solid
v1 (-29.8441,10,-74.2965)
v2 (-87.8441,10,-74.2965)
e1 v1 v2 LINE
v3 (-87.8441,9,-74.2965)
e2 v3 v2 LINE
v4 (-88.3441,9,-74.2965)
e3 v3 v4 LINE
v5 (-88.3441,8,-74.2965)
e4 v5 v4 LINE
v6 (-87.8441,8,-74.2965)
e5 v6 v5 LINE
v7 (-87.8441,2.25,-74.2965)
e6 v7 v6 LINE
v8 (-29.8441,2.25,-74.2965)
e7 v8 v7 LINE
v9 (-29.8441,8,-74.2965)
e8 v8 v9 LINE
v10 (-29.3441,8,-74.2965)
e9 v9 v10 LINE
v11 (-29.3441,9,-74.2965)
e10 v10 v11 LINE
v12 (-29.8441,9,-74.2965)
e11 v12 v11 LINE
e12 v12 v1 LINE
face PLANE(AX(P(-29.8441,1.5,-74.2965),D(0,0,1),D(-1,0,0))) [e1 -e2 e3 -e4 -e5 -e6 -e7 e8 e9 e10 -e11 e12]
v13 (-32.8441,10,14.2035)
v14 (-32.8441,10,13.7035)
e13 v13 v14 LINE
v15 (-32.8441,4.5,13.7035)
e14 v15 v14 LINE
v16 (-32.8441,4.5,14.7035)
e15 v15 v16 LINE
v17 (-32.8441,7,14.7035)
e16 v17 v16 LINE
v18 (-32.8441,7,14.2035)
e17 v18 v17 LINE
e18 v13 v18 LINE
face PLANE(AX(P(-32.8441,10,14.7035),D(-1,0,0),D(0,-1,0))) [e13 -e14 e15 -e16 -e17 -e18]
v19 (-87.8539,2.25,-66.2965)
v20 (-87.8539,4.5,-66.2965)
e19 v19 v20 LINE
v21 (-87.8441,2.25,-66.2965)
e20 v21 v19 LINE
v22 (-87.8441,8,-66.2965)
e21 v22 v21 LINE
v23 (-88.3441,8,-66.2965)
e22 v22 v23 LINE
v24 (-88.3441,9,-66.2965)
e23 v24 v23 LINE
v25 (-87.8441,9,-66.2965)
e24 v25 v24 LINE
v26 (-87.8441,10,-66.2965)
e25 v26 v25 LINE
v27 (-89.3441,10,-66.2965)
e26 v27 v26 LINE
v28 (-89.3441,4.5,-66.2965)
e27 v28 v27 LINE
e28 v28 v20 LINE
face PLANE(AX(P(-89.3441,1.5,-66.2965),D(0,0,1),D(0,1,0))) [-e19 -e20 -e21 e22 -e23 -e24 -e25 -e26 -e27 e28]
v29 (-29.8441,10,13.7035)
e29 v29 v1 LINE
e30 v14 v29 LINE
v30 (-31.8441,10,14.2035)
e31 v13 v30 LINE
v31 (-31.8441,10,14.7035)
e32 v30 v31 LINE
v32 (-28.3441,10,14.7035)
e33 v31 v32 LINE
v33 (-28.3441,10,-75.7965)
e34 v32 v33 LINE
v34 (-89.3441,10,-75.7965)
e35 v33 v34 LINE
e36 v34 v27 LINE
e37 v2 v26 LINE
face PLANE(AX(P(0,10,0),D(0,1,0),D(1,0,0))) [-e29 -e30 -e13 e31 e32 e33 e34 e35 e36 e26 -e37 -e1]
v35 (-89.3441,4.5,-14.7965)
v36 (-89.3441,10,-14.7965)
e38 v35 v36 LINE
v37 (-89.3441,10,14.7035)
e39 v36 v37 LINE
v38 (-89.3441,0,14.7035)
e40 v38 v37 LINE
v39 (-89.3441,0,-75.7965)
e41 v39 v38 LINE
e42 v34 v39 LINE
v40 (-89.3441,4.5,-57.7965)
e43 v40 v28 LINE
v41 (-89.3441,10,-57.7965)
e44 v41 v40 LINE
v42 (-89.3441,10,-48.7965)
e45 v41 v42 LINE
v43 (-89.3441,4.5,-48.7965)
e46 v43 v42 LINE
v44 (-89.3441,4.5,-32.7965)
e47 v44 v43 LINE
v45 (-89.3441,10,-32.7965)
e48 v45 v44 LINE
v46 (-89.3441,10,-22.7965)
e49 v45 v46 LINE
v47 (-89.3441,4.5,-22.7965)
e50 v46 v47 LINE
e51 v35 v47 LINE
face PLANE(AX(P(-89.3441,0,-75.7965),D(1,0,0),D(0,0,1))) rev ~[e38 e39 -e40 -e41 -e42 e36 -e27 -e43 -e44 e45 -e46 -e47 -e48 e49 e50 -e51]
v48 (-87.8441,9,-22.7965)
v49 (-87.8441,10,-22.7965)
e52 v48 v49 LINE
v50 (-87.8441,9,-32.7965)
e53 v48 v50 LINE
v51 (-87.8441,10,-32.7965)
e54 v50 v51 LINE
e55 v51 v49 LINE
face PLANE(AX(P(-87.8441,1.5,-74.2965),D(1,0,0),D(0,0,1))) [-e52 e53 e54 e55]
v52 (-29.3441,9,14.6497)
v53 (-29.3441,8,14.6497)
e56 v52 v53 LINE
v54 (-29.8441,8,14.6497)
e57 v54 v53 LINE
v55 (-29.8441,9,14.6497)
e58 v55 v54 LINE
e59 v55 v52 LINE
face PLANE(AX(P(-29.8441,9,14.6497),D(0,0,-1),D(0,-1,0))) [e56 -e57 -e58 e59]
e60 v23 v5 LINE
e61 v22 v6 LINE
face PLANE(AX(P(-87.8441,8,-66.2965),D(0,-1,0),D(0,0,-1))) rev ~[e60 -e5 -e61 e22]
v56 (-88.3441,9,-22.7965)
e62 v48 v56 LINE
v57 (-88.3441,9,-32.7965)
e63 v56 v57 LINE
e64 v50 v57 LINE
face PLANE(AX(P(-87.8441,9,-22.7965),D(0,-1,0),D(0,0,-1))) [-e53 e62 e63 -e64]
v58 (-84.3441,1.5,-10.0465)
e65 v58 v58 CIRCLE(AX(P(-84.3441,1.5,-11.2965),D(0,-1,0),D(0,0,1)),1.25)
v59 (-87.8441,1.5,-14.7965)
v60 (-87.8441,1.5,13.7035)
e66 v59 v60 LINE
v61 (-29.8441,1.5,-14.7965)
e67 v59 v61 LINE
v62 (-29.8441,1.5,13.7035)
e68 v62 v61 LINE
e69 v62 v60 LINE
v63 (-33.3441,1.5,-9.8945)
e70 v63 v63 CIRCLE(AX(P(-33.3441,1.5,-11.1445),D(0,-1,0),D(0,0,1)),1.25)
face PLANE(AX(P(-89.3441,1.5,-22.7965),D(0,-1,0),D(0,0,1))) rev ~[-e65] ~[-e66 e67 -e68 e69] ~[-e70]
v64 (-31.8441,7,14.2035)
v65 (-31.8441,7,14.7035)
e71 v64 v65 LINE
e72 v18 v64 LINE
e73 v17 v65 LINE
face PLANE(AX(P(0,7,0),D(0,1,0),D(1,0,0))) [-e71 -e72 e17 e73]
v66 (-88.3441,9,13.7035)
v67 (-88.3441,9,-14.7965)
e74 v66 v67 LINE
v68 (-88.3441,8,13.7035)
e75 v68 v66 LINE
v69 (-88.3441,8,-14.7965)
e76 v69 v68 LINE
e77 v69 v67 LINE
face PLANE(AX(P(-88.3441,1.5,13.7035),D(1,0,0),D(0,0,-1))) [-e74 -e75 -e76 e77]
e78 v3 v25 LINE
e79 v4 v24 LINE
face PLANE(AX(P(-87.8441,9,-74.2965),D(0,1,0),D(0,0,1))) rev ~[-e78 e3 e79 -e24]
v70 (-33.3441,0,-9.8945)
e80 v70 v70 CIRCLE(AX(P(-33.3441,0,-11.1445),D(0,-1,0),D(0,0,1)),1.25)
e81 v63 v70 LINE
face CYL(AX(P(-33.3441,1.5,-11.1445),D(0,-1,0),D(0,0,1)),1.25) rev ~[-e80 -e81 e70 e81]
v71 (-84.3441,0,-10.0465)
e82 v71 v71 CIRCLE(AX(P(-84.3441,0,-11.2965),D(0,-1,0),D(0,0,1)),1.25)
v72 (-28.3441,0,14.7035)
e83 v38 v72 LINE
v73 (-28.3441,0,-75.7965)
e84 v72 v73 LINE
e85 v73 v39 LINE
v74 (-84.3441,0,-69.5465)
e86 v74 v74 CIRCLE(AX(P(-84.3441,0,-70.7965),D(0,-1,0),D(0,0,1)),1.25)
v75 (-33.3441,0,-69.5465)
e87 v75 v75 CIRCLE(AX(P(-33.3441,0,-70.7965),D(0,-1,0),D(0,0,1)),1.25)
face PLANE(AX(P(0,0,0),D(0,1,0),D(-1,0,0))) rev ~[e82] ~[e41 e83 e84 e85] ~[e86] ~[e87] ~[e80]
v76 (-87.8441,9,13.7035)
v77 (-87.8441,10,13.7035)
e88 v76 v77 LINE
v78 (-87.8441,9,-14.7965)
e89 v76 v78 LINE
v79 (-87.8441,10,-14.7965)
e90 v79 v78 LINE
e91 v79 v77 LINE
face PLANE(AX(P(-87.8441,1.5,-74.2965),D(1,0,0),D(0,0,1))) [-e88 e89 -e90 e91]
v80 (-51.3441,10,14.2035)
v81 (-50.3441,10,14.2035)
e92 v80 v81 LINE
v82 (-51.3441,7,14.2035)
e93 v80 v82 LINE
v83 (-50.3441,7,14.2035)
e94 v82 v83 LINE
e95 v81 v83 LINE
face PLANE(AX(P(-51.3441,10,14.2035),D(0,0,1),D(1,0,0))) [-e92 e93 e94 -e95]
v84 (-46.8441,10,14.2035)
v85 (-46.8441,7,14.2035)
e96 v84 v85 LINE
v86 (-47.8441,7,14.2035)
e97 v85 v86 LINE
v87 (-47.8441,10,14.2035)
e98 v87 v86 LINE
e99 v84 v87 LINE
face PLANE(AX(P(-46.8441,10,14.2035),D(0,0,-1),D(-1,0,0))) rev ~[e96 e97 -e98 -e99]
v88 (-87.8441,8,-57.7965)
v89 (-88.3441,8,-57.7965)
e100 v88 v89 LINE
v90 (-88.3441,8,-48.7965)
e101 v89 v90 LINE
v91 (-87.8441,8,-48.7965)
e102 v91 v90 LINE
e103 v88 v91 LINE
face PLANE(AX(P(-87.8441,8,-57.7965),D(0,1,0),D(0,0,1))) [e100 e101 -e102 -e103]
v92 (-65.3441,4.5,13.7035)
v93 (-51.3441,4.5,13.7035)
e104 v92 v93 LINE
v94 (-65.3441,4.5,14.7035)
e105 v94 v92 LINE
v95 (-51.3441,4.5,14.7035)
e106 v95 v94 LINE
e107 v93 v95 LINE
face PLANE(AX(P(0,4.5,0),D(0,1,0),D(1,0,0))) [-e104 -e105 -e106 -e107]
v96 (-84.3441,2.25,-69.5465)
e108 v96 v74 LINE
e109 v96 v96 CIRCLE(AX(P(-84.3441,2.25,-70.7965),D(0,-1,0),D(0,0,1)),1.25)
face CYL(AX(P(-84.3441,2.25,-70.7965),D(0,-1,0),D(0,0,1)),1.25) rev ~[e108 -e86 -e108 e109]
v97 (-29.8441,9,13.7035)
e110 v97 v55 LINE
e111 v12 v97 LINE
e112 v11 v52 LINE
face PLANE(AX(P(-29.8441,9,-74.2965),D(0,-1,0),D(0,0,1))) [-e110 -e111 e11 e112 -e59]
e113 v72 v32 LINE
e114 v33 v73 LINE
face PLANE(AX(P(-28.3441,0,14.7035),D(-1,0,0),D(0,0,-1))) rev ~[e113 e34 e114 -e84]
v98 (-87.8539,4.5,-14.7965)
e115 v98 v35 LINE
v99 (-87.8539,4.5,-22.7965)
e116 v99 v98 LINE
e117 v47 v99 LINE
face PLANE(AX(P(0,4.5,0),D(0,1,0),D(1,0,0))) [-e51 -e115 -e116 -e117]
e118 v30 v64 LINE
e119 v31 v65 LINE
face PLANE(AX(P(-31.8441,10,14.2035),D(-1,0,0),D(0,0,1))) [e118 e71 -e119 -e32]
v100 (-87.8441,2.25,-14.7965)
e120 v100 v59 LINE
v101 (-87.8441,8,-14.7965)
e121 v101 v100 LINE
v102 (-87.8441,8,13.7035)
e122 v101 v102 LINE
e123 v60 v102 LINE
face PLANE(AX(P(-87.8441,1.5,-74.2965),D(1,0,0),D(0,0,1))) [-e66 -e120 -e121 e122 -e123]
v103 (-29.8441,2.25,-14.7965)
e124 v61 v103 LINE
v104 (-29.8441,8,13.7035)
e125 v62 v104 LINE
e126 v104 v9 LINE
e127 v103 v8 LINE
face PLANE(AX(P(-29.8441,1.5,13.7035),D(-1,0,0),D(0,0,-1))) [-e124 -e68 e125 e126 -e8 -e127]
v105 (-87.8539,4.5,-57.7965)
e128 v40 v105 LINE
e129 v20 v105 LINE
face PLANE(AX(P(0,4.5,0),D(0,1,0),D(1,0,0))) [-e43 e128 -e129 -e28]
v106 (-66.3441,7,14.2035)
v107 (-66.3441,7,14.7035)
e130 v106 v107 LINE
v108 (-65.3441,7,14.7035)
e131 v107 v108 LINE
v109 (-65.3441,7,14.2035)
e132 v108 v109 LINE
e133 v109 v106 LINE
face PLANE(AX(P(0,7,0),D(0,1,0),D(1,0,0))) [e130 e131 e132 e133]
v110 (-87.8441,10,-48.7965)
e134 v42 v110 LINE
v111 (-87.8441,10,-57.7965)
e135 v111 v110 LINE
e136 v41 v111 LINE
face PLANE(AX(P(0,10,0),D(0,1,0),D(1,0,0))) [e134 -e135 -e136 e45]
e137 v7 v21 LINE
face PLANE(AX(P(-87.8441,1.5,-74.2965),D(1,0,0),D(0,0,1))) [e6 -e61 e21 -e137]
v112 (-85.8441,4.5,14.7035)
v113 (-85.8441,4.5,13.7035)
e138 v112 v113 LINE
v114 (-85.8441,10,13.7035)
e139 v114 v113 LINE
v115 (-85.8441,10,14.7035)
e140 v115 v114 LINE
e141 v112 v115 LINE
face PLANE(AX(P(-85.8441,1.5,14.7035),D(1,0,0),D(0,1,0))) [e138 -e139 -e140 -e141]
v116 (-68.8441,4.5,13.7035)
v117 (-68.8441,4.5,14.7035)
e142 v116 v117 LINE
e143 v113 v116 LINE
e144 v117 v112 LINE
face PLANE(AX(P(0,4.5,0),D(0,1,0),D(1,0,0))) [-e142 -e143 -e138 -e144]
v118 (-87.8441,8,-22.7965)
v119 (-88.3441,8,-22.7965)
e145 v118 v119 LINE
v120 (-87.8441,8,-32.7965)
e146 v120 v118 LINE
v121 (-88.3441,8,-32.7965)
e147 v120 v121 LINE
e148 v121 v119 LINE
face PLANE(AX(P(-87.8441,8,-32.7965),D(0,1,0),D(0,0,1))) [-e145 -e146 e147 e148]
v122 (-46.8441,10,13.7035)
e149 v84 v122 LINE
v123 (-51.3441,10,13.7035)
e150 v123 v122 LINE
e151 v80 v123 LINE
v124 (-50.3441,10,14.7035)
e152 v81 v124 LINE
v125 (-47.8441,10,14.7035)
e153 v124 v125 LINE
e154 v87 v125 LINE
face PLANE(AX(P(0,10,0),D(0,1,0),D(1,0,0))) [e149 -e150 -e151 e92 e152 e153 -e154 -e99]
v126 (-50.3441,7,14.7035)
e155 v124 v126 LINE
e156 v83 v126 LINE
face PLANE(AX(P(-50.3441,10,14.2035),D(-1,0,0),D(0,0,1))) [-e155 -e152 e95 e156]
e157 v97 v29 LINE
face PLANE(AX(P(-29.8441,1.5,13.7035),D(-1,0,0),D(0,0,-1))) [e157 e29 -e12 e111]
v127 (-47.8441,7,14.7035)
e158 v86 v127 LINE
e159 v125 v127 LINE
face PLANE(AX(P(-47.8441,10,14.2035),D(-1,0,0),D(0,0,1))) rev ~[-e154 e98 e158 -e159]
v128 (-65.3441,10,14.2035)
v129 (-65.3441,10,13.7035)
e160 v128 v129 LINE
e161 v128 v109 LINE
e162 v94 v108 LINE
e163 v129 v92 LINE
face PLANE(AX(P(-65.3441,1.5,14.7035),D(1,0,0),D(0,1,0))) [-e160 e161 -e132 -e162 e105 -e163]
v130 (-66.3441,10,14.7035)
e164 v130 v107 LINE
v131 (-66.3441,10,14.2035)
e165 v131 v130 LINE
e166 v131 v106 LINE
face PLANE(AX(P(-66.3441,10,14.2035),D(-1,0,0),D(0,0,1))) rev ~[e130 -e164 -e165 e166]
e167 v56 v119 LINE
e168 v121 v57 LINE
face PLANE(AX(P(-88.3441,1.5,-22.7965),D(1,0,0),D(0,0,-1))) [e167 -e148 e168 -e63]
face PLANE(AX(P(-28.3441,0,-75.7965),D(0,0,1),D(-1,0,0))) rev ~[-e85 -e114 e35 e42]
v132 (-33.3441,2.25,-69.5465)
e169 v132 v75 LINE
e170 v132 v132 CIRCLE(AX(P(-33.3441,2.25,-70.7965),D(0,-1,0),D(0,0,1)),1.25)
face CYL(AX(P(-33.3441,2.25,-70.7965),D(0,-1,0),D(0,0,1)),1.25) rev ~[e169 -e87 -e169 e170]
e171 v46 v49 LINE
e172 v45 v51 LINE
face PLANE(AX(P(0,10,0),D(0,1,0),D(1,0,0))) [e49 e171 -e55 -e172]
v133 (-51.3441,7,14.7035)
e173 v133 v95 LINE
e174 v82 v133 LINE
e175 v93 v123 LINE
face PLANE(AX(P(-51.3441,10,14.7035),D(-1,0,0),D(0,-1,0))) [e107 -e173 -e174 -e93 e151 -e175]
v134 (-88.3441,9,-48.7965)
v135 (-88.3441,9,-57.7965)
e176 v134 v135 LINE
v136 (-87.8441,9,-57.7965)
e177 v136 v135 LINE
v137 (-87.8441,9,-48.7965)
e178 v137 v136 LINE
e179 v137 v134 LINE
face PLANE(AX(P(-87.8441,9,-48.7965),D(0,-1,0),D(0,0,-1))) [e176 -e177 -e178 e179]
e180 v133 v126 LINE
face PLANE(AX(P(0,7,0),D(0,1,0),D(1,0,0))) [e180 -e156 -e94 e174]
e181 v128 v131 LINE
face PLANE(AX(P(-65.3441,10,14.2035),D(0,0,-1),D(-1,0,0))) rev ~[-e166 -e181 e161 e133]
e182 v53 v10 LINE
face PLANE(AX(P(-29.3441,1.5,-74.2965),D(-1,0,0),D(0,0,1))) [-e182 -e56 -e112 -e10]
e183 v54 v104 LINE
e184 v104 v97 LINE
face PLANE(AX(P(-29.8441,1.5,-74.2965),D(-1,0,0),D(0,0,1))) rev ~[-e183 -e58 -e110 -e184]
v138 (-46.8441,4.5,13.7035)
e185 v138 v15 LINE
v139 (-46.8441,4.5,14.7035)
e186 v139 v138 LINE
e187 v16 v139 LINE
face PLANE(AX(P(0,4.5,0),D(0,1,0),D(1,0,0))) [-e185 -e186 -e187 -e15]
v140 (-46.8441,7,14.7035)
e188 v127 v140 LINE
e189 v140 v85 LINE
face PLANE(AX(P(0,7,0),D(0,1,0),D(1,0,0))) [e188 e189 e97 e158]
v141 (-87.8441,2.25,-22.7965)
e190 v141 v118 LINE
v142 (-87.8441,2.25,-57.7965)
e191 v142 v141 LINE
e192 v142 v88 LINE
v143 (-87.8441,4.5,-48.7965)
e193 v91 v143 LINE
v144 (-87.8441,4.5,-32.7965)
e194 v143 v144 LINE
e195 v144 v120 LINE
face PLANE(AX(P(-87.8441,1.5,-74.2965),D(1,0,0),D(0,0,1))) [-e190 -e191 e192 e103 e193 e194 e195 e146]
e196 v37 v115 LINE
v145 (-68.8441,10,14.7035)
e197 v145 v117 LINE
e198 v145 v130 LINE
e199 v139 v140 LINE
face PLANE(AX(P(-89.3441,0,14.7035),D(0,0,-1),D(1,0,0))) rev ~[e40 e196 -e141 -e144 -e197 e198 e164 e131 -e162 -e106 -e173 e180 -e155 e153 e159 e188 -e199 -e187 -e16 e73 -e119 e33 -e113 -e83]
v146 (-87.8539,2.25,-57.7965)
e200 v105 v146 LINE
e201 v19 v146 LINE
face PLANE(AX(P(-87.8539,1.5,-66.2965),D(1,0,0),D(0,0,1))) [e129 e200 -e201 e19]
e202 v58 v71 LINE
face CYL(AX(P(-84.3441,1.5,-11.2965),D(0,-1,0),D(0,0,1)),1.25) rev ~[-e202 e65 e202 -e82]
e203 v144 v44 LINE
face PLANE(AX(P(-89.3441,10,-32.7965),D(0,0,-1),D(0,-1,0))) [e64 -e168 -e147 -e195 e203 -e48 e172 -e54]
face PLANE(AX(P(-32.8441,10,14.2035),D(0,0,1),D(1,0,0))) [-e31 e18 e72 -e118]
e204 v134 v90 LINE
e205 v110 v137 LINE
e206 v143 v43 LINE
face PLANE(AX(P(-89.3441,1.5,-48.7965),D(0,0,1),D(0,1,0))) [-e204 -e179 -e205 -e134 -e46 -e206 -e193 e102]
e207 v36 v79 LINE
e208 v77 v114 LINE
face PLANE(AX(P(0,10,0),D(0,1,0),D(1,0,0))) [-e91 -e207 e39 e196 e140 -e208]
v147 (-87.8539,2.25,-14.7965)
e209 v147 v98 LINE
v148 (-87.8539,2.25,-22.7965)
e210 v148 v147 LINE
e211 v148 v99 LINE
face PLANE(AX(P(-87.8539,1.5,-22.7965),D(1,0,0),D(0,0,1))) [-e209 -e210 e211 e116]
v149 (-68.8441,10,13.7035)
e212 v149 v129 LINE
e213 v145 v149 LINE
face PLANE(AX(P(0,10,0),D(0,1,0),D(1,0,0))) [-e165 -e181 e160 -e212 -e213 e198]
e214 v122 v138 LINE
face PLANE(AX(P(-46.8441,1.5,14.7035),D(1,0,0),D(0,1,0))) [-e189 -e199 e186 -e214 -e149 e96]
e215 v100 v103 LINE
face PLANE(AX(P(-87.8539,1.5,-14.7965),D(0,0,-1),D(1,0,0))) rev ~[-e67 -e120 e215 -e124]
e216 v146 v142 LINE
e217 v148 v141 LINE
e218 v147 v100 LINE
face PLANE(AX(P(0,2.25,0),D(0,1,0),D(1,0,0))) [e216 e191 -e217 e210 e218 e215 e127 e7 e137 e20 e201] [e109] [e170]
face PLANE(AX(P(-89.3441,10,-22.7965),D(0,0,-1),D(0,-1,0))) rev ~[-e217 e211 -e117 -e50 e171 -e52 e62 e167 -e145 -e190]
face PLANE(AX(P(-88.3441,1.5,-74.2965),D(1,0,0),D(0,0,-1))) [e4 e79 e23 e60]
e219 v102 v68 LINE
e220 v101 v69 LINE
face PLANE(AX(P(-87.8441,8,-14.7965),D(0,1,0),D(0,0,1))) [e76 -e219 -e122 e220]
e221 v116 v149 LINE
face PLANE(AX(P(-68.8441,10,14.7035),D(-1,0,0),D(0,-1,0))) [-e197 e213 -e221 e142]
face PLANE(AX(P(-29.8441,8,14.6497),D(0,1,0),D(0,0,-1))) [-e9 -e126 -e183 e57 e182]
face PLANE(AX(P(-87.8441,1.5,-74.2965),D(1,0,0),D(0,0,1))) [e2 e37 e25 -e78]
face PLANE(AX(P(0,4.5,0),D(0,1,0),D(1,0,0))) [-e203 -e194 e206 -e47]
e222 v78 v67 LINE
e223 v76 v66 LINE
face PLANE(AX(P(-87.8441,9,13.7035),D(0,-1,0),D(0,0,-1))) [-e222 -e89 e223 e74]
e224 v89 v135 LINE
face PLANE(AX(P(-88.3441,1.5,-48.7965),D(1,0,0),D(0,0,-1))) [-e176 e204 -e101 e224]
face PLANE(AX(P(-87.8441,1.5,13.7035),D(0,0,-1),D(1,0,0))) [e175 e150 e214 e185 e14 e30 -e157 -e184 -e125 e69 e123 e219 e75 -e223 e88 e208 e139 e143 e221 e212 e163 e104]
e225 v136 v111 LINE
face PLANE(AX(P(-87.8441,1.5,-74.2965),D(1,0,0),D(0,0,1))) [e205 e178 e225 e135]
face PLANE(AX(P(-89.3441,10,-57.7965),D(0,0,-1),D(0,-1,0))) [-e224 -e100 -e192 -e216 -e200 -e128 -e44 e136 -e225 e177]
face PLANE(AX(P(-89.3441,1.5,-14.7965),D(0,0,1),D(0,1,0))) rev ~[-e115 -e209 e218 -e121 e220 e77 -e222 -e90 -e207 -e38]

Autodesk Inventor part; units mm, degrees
ref_plane "YZ Plane" through (0, 0, 0) normal (1, 0, 0) x (0, 1, 0)
ref_plane "XZ Plane" through (0, 0, 0) normal (0, 1, 0) x (-1, 0, 0)
ref_plane "XY Plane" through (0, 0, 0) normal (0, 0, 1) x (1, 0, 0)
sketch "Sketch1" plane through (0, 0, 0) normal (0, 1, 0) x (-1, 0, 0)
  line L0 (89.3441, 14.7035) -> (28.3441, 14.7035)
  line L1 (28.3441, 14.7035) -> (28.3441, -75.7965)
  line L2 (28.3441, -75.7965) -> (89.3441, -75.7965)
  line L3 (89.3441, -75.7965) -> (89.3441, 14.7035)
  point P0 (0, 0)
  dimension "d0" = 90.5
  dimension "d1" = 61
extrude "Extrusion1" add sketch "Sketch1" along normal blind 1.5
sketch "Sketch2" plane through (0, 1.5, 0) normal (0, 1, 0) x (1, 0, 0)
  line L0 (-87.8441, -13.7035) -> (-29.8441, -13.7035)
  line L1 (-29.8441, -13.7035) -> (-29.8441, 74.2965)
  line L2 (-29.8441, 74.2965) -> (-87.8441, 74.2965)
  line L3 (-87.8441, 74.2965) -> (-87.8441, -13.7035)
  line L4 (-28.3441, 75.7965) -> (-89.3441, 75.7965) projected
  line L5 (-89.3441, -14.7035) -> (-28.3441, -14.7035) projected
  line L6 (-28.3441, -14.7035) -> (-28.3441, 75.7965) projected
  line L7 (-89.3441, 75.7965) -> (-89.3441, -14.7035) projected
  point P0 (0, 0)
  dimension "d4" = 1.5
  dimension "d5" = 1
  dimension "d6" = 1.5
  dimension "d7" = 1.5
extrude "Extrusion2" add sketch "Sketch2" along normal blind 8.5
sketch "Sketch3" plane through (-89.3441, 0, 14.7035) normal (0, 0, 1) x (1, 0, 0)
  line L0 (61, 0) -> (61, 10) projected
  line L1 (0, 0) -> (0, 10) projected
  line L2 (59.5, 1.5) -> (59.5, 10) projected
  line L3 (1.5, 1.5) -> (1.5, 10) projected
  line L4 (0, 0) -> (61, 0) projected
  line L5 (1.5, 1.5) -> (59.5, 1.5) projected
  line L6 (0, 10) -> (61, 10) projected
  line L7 (42.5, 10) -> (56.5, 10)
  line L8 (56.5, 10) -> (56.5, 1.5)
  line L9 (56.5, 1.5) -> (42.5, 1.5)
  line L10 (42.5, 1.5) -> (42.5, 10)
  line L11 (24, 10) -> (38, 10)
  line L12 (38, 10) -> (38, 1.5)
  line L13 (38, 1.5) -> (24, 1.5)
  line L14 (24, 1.5) -> (24, 10)
  line L15 (3.5, 10) -> (20.5, 10)
  line L16 (20.5, 10) -> (20.5, 1.5)
  line L17 (20.5, 1.5) -> (3.5, 1.5)
  line L18 (3.5, 1.5) -> (3.5, 10)
  point P0 (89.3441, 0)
  dimension "d10" = 61
  dimension "d11" = 58
  dimension "d12" = 1.5
  dimension "d13" = 10
  dimension "d14" = 3
  dimension "d15" = 14
  dimension "d16" = 14
  dimension "d17" = 4.5
  dimension "d18" = 3.5
  dimension "d19" = 17
  dimension "d20" = 2
extrude "Extrusion3" cut sketch "Sketch3" against normal blind 2 contours L8 L5 L10 L6 | L6 L16 L5 L18 | L12 L5 L14 L6
sketch "Sketch4" plane through (-89.3441, 0, -75.7965) normal (-1, 0, 0) x (0, 0, 1)
  line L0 (90.5, 0) -> (90.5, 10) projected
  line L1 (0, 0) -> (0, 10) projected
  line L2 (89.5, 1.5) -> (89.5, 10) projected
  line L3 (1.5, 1.5) -> (1.5, 10) projected
  line L4 (0, 0) -> (90.5, 0) projected
  line L5 (1.5, 1.5) -> (89.5, 1.5) projected
  line L6 (0, 10) -> (90.5, 10) projected
  line L7 (61, 10) -> (53, 10)
  line L8 (53, 10) -> (53, 1.5)
  line L9 (53, 1.5) -> (61, 1.5)
  line L10 (61, 1.5) -> (61, 10)
  line L11 (89.5, 10) -> (1.5, 10) projected
  line L12 (89.5, 1.5) -> (1.5, 1.5) projected
  line L13 (27, 10) -> (43, 10)
  line L14 (43, 10) -> (43, 1.5)
  line L15 (43, 1.5) -> (27, 1.5)
  line L16 (27, 1.5) -> (27, 10)
  line L17 (9.5, 10) -> (18, 10)
  line L18 (18, 10) -> (18, 1.5)
  line L19 (18, 1.5) -> (9.5, 1.5)
  line L20 (9.5, 1.5) -> (9.5, 10)
  point P0 (75.7965, 0)
  dimension "d23" = 90.5
  dimension "d24" = 88
  dimension "d25" = 1.5
  dimension "d26" = 10
  dimension "d27" = 28.5
  dimension "d28" = 8
  dimension "d29" = 10
  dimension "d30" = 16
  dimension "d31" = 9
  dimension "d32" = 8.5
  dimension "d33" = 8
extrude "Extrusion4" cut sketch "Sketch4" against normal blind 2 contours L10 L5 L8 L6 | L6 L18 L5 L20 | L14 L5 L16 L6
sketch "Sketch5" plane through (0, 10, 0) normal (0, 1, 0) x (1, 0, 0)
  line L0 (-29.8441, -13.7035) -> (-32.8441, -13.7035) projected
  line L1 (-32.8441, -14.7035) -> (-28.3441, -14.7035) projected
  line L2 (-28.3441, -14.7035) -> (-28.3441, 75.7965) projected
  line L3 (-32.8441, -13.7035) -> (-32.8441, -14.7035) projected
  line L4 (-32.8441, -14.7035) -> (-32.8441, -13.7035) projected
  line L5 (-89.3441, -14.7035) -> (-28.3441, -14.7035) projected
  line L6 (-32.8441, -14.2035) -> (-31.8441, -14.2035)
  line L7 (-31.8441, -14.2035) -> (-31.8441, -14.7035)
  line L8 (-31.8441, -14.7035) -> (-32.8441, -14.7035)
  line L9 (-32.8441, -14.7035) -> (-32.8441, -14.2035)
  point P0 (0, 0)
  dimension "d36" = 1
  dimension "d37" = 4.5
  dimension "d38" = 0.5
  dimension "d39" = 1
extrude "Extrusion5" cut sketch "Sketch5" against normal blind 3
sketch "Sketch6" plane through (0, 10, 0) normal (0, 1, 0) x (1, 0, 0)
  line L0 (-51.3441, -14.7035) -> (-46.8441, -14.7035) projected
  line L1 (-46.8441, -13.7035) -> (-51.3441, -13.7035) projected
  line L2 (-46.8441, -14.7035) -> (-46.8441, -13.7035) projected
  line L3 (-51.3441, -14.7035) -> (-51.3441, -13.7035) projected
  line L4 (-46.8441, -14.2035) -> (-47.8441, -14.2035)
  line L5 (-47.8441, -14.2035) -> (-47.8441, -14.7035)
  line L6 (-47.8441, -14.7035) -> (-46.8441, -14.7035)
  line L7 (-46.8441, -14.7035) -> (-46.8441, -14.2035)
  point P0 (0, 0)
  dimension "d42" = 1
  dimension "d43" = 4.5
  dimension "d44" = 0.5
  dimension "d45" = 1
extrude "Extrusion6" cut sketch "Sketch6" against normal blind 3 contours L5 L4 L2 L0
sketch "Sketch7" plane through (0, 10, 0) normal (0, 1, 0) x (1, 0, 0)
  line L0 (-46.8441, -13.7035) -> (-51.3441, -13.7035) projected
  line L1 (-51.3441, -14.7035) -> (-47.8441, -14.7035) projected
  line L2 (-46.8441, -14.2035) -> (-46.8441, -13.7035) projected
  line L3 (-51.3441, -13.7035) -> (-51.3441, -14.7035) projected
  line L4 (-46.8441, -14.7035) -> (-47.8441, -14.7035) projected
  line L5 (-47.8441, -14.2035) -> (-46.8441, -14.2035) projected
  line L6 (-51.3441, -14.2035) -> (-50.3441, -14.2035)
  line L7 (-50.3441, -14.2035) -> (-50.3441, -14.7035)
  line L8 (-50.3441, -14.7035) -> (-51.3441, -14.7035)
  line L9 (-51.3441, -14.7035) -> (-51.3441, -14.2035)
  point P0 (0, 0)
  dimension "d48" = 1
  dimension "d49" = 4.5
  dimension "d50" = 0.5
  dimension "d51" = 0.5
  dimension "d52" = 1
extrude "Extrusion7" cut sketch "Sketch7" against normal blind 3
sketch "Sketch8" plane through (0, 10, 0) normal (0, 1, 0) x (1, 0, 0)
  line L0 (-65.3441, -13.7035) -> (-68.8441, -13.7035) projected
  line L1 (-68.8441, -14.7035) -> (-65.3441, -14.7035) projected
  line L2 (-68.8441, -13.7035) -> (-68.8441, -14.7035) projected
  line L3 (-65.3441, -14.7035) -> (-65.3441, -13.7035) projected
  line L4 (-65.3441, -14.7035) -> (-65.3441, -13.7035) projected
  line L5 (-65.3441, -14.2035) -> (-66.3441, -14.2035)
  line L6 (-66.3441, -14.2035) -> (-66.3441, -14.7035)
  line L7 (-66.3441, -14.7035) -> (-65.3441, -14.7035)
  line L8 (-65.3441, -14.7035) -> (-65.3441, -14.2035)
  point P0 (0, 0)
  dimension "d55" = 1
  dimension "d56" = 3.5
  dimension "d57" = 1
  dimension "d58" = 0.5
extrude "Extrusion8" cut sketch "Sketch8" against normal blind 3 contours L3 L1 L6 L5
sketch "Sketch9" plane through (-29.8441, 1.5, -74.2965) normal (-1, 0, 0) x (0, 0, 1)
  line L0 (0, 0) -> (0, 8.5) projected
  line L1 (0, 7.5) -> (88.9462, 7.5)
  line L2 (88.9462, 7.5) -> (88.9462, 6.5)
  line L3 (88.9462, 6.5) -> (0, 6.5)
  line L4 (0, 6.5) -> (0, 7.5)
  line L5 (0, 8.5) -> (88, 8.5) projected
  point P0 (74.2965, -1.5)
  dimension "d61" = 1
  dimension "d62" = 88.9462
  dimension "d63" = 1
extrude "Extrusion9" cut sketch "Sketch9" against normal blind 0.5
sketch "Sketch10" plane through (-87.8441, 1.5, 13.7035) normal (1, 0, 0) x (0, 0, -1)
  line L0 (28.5, 0) -> (28.5, 8.5) projected
  line L1 (0, 7.5) -> (28.5, 7.5)
  line L2 (28.5, 7.5) -> (28.5, 6.5)
  line L3 (28.5, 6.5) -> (0, 6.5)
  line L4 (0, 6.5) -> (0, 7.5)
  line L5 (0, 8.5) -> (28.5, 8.5) projected
  point P0 (13.7035, -1.5)
  dimension "d66" = 28.5
  dimension "d67" = 1
  dimension "d68" = 1
extrude "Extrusion10" cut sketch "Sketch10" against normal blind 0.5
sketch "Sketch11" plane through (-87.8441, 1.5, -22.7965) normal (1, 0, 0) x (0, 0, -1)
  line L0 (0, 8.5) -> (0, 0) projected
  line L1 (10, 0) -> (10, 8.5) projected
  line L2 (0, 7.5) -> (10, 7.5)
  line L3 (10, 7.5) -> (10, 6.5)
  line L4 (10, 6.5) -> (0, 6.5)
  line L5 (0, 6.5) -> (0, 7.5)
  line L6 (0, 8.5) -> (10, 8.5) projected
  point P0 (-22.7965, -1.5)
  dimension "d71" = 10
  dimension "d72" = 1
  dimension "d73" = 1
extrude "Extrusion11" cut sketch "Sketch11" against normal blind 0.5 contours L2 L1 L4 L0
sketch "Sketch12" plane through (-87.8441, 1.5, -48.7965) normal (1, 0, 0) x (0, 0, -1)
  line L0 (0, 8.5) -> (0, 0) projected
  line L1 (9, 0) -> (9, 8.5) projected
  line L2 (0, 7.5) -> (9, 7.5)
  line L3 (9, 7.5) -> (9, 6.5)
  line L4 (9, 6.5) -> (0, 6.5)
  line L5 (0, 6.5) -> (0, 7.5)
  line L6 (0, 8.5) -> (9, 8.5) projected
  point P0 (-48.7965, -1.5)
  dimension "d76" = 1
  dimension "d77" = 1
extrude "Extrusion12" cut sketch "Sketch12" against normal blind 0.5 contours L2 L1 L4 L0
sketch "Sketch13" plane through (-87.8441, 1.5, -74.2965) normal (1, 0, 0) x (0, 0, -1)
  line L0 (0, 0) -> (0, 8.5) projected
  line L1 (-8, 8.5) -> (-8, 0) projected
  line L2 (0, 7.5) -> (-8, 7.5)
  line L3 (-8, 7.5) -> (-8, 6.5)
  line L4 (-8, 6.5) -> (0, 6.5)
  line L5 (0, 6.5) -> (0, 7.5)
  line L6 (-8, 8.5) -> (0, 8.5) projected
  point P0 (-74.2965, -1.5)
  dimension "d80" = 1
  dimension "d81" = 1
extrude "Extrusion13" cut sketch "Sketch13" against normal blind 0.5 contours L4 L1 L2 L0
sketch "Sketch16" plane through (0, 1.5, 0) normal (0, 1, 0) x (1, 0, 0)
  line L0 (-87.8539, 14.7789) -> (-29.8441, 14.7789)
  line L1 (-29.8441, 14.7789) -> (-29.8441, 74.2965)
  line L2 (-29.8441, 74.2965) -> (-87.8539, 74.2965)
  line L3 (-87.8539, 74.2965) -> (-87.8539, 14.7789)
  line L4 (-89.3441, 22.7965) -> (-87.8539, 22.7965)
  line L5 (-87.8539, 22.7965) -> (-87.8539, 14.7789)
  line L6 (-87.8539, 14.7789) -> (-89.3441, 14.7789)
  line L7 (-89.3441, 14.7789) -> (-89.3441, 22.7965)
  line L8 (-89.3441, 48.7965) -> (-87.8441, 48.7965)
  line L9 (-87.8441, 48.7965) -> (-87.8441, 32.7965)
  line L10 (-87.8441, 32.7965) -> (-89.3441, 32.7965)
  line L11 (-89.3441, 32.7965) -> (-89.3441, 48.7965)
  line L12 (-89.3441, 66.2965) -> (-87.8539, 66.2965)
  line L13 (-87.8539, 66.2965) -> (-87.8539, 57.7072)
  line L14 (-87.8539, 57.7072) -> (-89.3441, 57.7072)
  line L15 (-89.3441, 57.7072) -> (-89.3441, 66.2965)
  line L16 (-89.3441, 66.2965) -> (-87.8539, 66.2965)
  line L17 (-87.8539, 66.2965) -> (-87.8539, 57.7072)
  line L18 (-87.8539, 57.7072) -> (-89.3441, 57.7072)
  line L19 (-89.3441, 57.7072) -> (-89.3441, 66.2965)
  line L20 (-85.8441, -13.7035) -> (-68.8441, -13.7035)
  line L21 (-68.8441, -13.7035) -> (-68.8441, -14.7035)
  line L22 (-68.8441, -14.7035) -> (-85.8441, -14.7035)
  line L23 (-85.8441, -14.7035) -> (-85.8441, -13.7035)
  line L24 (-65.3441, -13.7035) -> (-51.3441, -13.7035)
  line L25 (-51.3441, -13.7035) -> (-51.3441, -14.7035)
  line L26 (-51.3441, -14.7035) -> (-65.3441, -14.7035)
  line L27 (-65.3441, -14.7035) -> (-65.3441, -13.7035)
  line L28 (-46.8441, -13.7035) -> (-32.8441, -13.7035)
  line L29 (-32.8441, -13.7035) -> (-32.8441, -14.7035)
  line L30 (-32.8441, -14.7035) -> (-46.8441, -14.7035)
  line L31 (-46.8441, -14.7035) -> (-46.8441, -13.7035)
  point P0 (0, 0)
extrude "Extrusion16" add sketch "Sketch16" along normal blind 3 contours L6 L7 L4 L3 | L10 L11 L8 L3 | L3 L8 L9 L10 | L3 L14 L15 L12 | L20 L21 L22 L23 | L24 L25 L26 L27 | L28 L29 L30 L31
sketch "Sketch17" plane through (0, 1.5, 0) normal (0, 1, 0) x (1, 0, 0)
  line L0 (-87.8539, 14.7965) -> (-29.8441, 14.7965)
  line L1 (-29.8441, 14.7965) -> (-29.8441, 74.2965)
  line L2 (-29.8441, 74.2965) -> (-87.8539, 74.2965)
  line L3 (-87.8539, 74.2965) -> (-87.8539, 14.7965)
  point P0 (0, 0)
extrude "Extrusion17" add sketch "Sketch17" along normal blind 0.75
hole "Hole1" at (-84.3441, 1.5, -11.2965) direction (0, -1, 0) diameter 2.5 end through all
hole "Hole2" at (-33.3441, 1.5, -11.1445) direction (0, -1, 0) diameter 2.5 end through all
hole "Hole3" at (-84.3441, 2.25, -70.7965) direction (0, -1, 0) diameter 2.5 end through all
hole "Hole4" at (-33.3441, 2.25, -70.7965) direction (0, -1, 0) diameter 2.5 end through all
properties part number "raspi_enclosure"
